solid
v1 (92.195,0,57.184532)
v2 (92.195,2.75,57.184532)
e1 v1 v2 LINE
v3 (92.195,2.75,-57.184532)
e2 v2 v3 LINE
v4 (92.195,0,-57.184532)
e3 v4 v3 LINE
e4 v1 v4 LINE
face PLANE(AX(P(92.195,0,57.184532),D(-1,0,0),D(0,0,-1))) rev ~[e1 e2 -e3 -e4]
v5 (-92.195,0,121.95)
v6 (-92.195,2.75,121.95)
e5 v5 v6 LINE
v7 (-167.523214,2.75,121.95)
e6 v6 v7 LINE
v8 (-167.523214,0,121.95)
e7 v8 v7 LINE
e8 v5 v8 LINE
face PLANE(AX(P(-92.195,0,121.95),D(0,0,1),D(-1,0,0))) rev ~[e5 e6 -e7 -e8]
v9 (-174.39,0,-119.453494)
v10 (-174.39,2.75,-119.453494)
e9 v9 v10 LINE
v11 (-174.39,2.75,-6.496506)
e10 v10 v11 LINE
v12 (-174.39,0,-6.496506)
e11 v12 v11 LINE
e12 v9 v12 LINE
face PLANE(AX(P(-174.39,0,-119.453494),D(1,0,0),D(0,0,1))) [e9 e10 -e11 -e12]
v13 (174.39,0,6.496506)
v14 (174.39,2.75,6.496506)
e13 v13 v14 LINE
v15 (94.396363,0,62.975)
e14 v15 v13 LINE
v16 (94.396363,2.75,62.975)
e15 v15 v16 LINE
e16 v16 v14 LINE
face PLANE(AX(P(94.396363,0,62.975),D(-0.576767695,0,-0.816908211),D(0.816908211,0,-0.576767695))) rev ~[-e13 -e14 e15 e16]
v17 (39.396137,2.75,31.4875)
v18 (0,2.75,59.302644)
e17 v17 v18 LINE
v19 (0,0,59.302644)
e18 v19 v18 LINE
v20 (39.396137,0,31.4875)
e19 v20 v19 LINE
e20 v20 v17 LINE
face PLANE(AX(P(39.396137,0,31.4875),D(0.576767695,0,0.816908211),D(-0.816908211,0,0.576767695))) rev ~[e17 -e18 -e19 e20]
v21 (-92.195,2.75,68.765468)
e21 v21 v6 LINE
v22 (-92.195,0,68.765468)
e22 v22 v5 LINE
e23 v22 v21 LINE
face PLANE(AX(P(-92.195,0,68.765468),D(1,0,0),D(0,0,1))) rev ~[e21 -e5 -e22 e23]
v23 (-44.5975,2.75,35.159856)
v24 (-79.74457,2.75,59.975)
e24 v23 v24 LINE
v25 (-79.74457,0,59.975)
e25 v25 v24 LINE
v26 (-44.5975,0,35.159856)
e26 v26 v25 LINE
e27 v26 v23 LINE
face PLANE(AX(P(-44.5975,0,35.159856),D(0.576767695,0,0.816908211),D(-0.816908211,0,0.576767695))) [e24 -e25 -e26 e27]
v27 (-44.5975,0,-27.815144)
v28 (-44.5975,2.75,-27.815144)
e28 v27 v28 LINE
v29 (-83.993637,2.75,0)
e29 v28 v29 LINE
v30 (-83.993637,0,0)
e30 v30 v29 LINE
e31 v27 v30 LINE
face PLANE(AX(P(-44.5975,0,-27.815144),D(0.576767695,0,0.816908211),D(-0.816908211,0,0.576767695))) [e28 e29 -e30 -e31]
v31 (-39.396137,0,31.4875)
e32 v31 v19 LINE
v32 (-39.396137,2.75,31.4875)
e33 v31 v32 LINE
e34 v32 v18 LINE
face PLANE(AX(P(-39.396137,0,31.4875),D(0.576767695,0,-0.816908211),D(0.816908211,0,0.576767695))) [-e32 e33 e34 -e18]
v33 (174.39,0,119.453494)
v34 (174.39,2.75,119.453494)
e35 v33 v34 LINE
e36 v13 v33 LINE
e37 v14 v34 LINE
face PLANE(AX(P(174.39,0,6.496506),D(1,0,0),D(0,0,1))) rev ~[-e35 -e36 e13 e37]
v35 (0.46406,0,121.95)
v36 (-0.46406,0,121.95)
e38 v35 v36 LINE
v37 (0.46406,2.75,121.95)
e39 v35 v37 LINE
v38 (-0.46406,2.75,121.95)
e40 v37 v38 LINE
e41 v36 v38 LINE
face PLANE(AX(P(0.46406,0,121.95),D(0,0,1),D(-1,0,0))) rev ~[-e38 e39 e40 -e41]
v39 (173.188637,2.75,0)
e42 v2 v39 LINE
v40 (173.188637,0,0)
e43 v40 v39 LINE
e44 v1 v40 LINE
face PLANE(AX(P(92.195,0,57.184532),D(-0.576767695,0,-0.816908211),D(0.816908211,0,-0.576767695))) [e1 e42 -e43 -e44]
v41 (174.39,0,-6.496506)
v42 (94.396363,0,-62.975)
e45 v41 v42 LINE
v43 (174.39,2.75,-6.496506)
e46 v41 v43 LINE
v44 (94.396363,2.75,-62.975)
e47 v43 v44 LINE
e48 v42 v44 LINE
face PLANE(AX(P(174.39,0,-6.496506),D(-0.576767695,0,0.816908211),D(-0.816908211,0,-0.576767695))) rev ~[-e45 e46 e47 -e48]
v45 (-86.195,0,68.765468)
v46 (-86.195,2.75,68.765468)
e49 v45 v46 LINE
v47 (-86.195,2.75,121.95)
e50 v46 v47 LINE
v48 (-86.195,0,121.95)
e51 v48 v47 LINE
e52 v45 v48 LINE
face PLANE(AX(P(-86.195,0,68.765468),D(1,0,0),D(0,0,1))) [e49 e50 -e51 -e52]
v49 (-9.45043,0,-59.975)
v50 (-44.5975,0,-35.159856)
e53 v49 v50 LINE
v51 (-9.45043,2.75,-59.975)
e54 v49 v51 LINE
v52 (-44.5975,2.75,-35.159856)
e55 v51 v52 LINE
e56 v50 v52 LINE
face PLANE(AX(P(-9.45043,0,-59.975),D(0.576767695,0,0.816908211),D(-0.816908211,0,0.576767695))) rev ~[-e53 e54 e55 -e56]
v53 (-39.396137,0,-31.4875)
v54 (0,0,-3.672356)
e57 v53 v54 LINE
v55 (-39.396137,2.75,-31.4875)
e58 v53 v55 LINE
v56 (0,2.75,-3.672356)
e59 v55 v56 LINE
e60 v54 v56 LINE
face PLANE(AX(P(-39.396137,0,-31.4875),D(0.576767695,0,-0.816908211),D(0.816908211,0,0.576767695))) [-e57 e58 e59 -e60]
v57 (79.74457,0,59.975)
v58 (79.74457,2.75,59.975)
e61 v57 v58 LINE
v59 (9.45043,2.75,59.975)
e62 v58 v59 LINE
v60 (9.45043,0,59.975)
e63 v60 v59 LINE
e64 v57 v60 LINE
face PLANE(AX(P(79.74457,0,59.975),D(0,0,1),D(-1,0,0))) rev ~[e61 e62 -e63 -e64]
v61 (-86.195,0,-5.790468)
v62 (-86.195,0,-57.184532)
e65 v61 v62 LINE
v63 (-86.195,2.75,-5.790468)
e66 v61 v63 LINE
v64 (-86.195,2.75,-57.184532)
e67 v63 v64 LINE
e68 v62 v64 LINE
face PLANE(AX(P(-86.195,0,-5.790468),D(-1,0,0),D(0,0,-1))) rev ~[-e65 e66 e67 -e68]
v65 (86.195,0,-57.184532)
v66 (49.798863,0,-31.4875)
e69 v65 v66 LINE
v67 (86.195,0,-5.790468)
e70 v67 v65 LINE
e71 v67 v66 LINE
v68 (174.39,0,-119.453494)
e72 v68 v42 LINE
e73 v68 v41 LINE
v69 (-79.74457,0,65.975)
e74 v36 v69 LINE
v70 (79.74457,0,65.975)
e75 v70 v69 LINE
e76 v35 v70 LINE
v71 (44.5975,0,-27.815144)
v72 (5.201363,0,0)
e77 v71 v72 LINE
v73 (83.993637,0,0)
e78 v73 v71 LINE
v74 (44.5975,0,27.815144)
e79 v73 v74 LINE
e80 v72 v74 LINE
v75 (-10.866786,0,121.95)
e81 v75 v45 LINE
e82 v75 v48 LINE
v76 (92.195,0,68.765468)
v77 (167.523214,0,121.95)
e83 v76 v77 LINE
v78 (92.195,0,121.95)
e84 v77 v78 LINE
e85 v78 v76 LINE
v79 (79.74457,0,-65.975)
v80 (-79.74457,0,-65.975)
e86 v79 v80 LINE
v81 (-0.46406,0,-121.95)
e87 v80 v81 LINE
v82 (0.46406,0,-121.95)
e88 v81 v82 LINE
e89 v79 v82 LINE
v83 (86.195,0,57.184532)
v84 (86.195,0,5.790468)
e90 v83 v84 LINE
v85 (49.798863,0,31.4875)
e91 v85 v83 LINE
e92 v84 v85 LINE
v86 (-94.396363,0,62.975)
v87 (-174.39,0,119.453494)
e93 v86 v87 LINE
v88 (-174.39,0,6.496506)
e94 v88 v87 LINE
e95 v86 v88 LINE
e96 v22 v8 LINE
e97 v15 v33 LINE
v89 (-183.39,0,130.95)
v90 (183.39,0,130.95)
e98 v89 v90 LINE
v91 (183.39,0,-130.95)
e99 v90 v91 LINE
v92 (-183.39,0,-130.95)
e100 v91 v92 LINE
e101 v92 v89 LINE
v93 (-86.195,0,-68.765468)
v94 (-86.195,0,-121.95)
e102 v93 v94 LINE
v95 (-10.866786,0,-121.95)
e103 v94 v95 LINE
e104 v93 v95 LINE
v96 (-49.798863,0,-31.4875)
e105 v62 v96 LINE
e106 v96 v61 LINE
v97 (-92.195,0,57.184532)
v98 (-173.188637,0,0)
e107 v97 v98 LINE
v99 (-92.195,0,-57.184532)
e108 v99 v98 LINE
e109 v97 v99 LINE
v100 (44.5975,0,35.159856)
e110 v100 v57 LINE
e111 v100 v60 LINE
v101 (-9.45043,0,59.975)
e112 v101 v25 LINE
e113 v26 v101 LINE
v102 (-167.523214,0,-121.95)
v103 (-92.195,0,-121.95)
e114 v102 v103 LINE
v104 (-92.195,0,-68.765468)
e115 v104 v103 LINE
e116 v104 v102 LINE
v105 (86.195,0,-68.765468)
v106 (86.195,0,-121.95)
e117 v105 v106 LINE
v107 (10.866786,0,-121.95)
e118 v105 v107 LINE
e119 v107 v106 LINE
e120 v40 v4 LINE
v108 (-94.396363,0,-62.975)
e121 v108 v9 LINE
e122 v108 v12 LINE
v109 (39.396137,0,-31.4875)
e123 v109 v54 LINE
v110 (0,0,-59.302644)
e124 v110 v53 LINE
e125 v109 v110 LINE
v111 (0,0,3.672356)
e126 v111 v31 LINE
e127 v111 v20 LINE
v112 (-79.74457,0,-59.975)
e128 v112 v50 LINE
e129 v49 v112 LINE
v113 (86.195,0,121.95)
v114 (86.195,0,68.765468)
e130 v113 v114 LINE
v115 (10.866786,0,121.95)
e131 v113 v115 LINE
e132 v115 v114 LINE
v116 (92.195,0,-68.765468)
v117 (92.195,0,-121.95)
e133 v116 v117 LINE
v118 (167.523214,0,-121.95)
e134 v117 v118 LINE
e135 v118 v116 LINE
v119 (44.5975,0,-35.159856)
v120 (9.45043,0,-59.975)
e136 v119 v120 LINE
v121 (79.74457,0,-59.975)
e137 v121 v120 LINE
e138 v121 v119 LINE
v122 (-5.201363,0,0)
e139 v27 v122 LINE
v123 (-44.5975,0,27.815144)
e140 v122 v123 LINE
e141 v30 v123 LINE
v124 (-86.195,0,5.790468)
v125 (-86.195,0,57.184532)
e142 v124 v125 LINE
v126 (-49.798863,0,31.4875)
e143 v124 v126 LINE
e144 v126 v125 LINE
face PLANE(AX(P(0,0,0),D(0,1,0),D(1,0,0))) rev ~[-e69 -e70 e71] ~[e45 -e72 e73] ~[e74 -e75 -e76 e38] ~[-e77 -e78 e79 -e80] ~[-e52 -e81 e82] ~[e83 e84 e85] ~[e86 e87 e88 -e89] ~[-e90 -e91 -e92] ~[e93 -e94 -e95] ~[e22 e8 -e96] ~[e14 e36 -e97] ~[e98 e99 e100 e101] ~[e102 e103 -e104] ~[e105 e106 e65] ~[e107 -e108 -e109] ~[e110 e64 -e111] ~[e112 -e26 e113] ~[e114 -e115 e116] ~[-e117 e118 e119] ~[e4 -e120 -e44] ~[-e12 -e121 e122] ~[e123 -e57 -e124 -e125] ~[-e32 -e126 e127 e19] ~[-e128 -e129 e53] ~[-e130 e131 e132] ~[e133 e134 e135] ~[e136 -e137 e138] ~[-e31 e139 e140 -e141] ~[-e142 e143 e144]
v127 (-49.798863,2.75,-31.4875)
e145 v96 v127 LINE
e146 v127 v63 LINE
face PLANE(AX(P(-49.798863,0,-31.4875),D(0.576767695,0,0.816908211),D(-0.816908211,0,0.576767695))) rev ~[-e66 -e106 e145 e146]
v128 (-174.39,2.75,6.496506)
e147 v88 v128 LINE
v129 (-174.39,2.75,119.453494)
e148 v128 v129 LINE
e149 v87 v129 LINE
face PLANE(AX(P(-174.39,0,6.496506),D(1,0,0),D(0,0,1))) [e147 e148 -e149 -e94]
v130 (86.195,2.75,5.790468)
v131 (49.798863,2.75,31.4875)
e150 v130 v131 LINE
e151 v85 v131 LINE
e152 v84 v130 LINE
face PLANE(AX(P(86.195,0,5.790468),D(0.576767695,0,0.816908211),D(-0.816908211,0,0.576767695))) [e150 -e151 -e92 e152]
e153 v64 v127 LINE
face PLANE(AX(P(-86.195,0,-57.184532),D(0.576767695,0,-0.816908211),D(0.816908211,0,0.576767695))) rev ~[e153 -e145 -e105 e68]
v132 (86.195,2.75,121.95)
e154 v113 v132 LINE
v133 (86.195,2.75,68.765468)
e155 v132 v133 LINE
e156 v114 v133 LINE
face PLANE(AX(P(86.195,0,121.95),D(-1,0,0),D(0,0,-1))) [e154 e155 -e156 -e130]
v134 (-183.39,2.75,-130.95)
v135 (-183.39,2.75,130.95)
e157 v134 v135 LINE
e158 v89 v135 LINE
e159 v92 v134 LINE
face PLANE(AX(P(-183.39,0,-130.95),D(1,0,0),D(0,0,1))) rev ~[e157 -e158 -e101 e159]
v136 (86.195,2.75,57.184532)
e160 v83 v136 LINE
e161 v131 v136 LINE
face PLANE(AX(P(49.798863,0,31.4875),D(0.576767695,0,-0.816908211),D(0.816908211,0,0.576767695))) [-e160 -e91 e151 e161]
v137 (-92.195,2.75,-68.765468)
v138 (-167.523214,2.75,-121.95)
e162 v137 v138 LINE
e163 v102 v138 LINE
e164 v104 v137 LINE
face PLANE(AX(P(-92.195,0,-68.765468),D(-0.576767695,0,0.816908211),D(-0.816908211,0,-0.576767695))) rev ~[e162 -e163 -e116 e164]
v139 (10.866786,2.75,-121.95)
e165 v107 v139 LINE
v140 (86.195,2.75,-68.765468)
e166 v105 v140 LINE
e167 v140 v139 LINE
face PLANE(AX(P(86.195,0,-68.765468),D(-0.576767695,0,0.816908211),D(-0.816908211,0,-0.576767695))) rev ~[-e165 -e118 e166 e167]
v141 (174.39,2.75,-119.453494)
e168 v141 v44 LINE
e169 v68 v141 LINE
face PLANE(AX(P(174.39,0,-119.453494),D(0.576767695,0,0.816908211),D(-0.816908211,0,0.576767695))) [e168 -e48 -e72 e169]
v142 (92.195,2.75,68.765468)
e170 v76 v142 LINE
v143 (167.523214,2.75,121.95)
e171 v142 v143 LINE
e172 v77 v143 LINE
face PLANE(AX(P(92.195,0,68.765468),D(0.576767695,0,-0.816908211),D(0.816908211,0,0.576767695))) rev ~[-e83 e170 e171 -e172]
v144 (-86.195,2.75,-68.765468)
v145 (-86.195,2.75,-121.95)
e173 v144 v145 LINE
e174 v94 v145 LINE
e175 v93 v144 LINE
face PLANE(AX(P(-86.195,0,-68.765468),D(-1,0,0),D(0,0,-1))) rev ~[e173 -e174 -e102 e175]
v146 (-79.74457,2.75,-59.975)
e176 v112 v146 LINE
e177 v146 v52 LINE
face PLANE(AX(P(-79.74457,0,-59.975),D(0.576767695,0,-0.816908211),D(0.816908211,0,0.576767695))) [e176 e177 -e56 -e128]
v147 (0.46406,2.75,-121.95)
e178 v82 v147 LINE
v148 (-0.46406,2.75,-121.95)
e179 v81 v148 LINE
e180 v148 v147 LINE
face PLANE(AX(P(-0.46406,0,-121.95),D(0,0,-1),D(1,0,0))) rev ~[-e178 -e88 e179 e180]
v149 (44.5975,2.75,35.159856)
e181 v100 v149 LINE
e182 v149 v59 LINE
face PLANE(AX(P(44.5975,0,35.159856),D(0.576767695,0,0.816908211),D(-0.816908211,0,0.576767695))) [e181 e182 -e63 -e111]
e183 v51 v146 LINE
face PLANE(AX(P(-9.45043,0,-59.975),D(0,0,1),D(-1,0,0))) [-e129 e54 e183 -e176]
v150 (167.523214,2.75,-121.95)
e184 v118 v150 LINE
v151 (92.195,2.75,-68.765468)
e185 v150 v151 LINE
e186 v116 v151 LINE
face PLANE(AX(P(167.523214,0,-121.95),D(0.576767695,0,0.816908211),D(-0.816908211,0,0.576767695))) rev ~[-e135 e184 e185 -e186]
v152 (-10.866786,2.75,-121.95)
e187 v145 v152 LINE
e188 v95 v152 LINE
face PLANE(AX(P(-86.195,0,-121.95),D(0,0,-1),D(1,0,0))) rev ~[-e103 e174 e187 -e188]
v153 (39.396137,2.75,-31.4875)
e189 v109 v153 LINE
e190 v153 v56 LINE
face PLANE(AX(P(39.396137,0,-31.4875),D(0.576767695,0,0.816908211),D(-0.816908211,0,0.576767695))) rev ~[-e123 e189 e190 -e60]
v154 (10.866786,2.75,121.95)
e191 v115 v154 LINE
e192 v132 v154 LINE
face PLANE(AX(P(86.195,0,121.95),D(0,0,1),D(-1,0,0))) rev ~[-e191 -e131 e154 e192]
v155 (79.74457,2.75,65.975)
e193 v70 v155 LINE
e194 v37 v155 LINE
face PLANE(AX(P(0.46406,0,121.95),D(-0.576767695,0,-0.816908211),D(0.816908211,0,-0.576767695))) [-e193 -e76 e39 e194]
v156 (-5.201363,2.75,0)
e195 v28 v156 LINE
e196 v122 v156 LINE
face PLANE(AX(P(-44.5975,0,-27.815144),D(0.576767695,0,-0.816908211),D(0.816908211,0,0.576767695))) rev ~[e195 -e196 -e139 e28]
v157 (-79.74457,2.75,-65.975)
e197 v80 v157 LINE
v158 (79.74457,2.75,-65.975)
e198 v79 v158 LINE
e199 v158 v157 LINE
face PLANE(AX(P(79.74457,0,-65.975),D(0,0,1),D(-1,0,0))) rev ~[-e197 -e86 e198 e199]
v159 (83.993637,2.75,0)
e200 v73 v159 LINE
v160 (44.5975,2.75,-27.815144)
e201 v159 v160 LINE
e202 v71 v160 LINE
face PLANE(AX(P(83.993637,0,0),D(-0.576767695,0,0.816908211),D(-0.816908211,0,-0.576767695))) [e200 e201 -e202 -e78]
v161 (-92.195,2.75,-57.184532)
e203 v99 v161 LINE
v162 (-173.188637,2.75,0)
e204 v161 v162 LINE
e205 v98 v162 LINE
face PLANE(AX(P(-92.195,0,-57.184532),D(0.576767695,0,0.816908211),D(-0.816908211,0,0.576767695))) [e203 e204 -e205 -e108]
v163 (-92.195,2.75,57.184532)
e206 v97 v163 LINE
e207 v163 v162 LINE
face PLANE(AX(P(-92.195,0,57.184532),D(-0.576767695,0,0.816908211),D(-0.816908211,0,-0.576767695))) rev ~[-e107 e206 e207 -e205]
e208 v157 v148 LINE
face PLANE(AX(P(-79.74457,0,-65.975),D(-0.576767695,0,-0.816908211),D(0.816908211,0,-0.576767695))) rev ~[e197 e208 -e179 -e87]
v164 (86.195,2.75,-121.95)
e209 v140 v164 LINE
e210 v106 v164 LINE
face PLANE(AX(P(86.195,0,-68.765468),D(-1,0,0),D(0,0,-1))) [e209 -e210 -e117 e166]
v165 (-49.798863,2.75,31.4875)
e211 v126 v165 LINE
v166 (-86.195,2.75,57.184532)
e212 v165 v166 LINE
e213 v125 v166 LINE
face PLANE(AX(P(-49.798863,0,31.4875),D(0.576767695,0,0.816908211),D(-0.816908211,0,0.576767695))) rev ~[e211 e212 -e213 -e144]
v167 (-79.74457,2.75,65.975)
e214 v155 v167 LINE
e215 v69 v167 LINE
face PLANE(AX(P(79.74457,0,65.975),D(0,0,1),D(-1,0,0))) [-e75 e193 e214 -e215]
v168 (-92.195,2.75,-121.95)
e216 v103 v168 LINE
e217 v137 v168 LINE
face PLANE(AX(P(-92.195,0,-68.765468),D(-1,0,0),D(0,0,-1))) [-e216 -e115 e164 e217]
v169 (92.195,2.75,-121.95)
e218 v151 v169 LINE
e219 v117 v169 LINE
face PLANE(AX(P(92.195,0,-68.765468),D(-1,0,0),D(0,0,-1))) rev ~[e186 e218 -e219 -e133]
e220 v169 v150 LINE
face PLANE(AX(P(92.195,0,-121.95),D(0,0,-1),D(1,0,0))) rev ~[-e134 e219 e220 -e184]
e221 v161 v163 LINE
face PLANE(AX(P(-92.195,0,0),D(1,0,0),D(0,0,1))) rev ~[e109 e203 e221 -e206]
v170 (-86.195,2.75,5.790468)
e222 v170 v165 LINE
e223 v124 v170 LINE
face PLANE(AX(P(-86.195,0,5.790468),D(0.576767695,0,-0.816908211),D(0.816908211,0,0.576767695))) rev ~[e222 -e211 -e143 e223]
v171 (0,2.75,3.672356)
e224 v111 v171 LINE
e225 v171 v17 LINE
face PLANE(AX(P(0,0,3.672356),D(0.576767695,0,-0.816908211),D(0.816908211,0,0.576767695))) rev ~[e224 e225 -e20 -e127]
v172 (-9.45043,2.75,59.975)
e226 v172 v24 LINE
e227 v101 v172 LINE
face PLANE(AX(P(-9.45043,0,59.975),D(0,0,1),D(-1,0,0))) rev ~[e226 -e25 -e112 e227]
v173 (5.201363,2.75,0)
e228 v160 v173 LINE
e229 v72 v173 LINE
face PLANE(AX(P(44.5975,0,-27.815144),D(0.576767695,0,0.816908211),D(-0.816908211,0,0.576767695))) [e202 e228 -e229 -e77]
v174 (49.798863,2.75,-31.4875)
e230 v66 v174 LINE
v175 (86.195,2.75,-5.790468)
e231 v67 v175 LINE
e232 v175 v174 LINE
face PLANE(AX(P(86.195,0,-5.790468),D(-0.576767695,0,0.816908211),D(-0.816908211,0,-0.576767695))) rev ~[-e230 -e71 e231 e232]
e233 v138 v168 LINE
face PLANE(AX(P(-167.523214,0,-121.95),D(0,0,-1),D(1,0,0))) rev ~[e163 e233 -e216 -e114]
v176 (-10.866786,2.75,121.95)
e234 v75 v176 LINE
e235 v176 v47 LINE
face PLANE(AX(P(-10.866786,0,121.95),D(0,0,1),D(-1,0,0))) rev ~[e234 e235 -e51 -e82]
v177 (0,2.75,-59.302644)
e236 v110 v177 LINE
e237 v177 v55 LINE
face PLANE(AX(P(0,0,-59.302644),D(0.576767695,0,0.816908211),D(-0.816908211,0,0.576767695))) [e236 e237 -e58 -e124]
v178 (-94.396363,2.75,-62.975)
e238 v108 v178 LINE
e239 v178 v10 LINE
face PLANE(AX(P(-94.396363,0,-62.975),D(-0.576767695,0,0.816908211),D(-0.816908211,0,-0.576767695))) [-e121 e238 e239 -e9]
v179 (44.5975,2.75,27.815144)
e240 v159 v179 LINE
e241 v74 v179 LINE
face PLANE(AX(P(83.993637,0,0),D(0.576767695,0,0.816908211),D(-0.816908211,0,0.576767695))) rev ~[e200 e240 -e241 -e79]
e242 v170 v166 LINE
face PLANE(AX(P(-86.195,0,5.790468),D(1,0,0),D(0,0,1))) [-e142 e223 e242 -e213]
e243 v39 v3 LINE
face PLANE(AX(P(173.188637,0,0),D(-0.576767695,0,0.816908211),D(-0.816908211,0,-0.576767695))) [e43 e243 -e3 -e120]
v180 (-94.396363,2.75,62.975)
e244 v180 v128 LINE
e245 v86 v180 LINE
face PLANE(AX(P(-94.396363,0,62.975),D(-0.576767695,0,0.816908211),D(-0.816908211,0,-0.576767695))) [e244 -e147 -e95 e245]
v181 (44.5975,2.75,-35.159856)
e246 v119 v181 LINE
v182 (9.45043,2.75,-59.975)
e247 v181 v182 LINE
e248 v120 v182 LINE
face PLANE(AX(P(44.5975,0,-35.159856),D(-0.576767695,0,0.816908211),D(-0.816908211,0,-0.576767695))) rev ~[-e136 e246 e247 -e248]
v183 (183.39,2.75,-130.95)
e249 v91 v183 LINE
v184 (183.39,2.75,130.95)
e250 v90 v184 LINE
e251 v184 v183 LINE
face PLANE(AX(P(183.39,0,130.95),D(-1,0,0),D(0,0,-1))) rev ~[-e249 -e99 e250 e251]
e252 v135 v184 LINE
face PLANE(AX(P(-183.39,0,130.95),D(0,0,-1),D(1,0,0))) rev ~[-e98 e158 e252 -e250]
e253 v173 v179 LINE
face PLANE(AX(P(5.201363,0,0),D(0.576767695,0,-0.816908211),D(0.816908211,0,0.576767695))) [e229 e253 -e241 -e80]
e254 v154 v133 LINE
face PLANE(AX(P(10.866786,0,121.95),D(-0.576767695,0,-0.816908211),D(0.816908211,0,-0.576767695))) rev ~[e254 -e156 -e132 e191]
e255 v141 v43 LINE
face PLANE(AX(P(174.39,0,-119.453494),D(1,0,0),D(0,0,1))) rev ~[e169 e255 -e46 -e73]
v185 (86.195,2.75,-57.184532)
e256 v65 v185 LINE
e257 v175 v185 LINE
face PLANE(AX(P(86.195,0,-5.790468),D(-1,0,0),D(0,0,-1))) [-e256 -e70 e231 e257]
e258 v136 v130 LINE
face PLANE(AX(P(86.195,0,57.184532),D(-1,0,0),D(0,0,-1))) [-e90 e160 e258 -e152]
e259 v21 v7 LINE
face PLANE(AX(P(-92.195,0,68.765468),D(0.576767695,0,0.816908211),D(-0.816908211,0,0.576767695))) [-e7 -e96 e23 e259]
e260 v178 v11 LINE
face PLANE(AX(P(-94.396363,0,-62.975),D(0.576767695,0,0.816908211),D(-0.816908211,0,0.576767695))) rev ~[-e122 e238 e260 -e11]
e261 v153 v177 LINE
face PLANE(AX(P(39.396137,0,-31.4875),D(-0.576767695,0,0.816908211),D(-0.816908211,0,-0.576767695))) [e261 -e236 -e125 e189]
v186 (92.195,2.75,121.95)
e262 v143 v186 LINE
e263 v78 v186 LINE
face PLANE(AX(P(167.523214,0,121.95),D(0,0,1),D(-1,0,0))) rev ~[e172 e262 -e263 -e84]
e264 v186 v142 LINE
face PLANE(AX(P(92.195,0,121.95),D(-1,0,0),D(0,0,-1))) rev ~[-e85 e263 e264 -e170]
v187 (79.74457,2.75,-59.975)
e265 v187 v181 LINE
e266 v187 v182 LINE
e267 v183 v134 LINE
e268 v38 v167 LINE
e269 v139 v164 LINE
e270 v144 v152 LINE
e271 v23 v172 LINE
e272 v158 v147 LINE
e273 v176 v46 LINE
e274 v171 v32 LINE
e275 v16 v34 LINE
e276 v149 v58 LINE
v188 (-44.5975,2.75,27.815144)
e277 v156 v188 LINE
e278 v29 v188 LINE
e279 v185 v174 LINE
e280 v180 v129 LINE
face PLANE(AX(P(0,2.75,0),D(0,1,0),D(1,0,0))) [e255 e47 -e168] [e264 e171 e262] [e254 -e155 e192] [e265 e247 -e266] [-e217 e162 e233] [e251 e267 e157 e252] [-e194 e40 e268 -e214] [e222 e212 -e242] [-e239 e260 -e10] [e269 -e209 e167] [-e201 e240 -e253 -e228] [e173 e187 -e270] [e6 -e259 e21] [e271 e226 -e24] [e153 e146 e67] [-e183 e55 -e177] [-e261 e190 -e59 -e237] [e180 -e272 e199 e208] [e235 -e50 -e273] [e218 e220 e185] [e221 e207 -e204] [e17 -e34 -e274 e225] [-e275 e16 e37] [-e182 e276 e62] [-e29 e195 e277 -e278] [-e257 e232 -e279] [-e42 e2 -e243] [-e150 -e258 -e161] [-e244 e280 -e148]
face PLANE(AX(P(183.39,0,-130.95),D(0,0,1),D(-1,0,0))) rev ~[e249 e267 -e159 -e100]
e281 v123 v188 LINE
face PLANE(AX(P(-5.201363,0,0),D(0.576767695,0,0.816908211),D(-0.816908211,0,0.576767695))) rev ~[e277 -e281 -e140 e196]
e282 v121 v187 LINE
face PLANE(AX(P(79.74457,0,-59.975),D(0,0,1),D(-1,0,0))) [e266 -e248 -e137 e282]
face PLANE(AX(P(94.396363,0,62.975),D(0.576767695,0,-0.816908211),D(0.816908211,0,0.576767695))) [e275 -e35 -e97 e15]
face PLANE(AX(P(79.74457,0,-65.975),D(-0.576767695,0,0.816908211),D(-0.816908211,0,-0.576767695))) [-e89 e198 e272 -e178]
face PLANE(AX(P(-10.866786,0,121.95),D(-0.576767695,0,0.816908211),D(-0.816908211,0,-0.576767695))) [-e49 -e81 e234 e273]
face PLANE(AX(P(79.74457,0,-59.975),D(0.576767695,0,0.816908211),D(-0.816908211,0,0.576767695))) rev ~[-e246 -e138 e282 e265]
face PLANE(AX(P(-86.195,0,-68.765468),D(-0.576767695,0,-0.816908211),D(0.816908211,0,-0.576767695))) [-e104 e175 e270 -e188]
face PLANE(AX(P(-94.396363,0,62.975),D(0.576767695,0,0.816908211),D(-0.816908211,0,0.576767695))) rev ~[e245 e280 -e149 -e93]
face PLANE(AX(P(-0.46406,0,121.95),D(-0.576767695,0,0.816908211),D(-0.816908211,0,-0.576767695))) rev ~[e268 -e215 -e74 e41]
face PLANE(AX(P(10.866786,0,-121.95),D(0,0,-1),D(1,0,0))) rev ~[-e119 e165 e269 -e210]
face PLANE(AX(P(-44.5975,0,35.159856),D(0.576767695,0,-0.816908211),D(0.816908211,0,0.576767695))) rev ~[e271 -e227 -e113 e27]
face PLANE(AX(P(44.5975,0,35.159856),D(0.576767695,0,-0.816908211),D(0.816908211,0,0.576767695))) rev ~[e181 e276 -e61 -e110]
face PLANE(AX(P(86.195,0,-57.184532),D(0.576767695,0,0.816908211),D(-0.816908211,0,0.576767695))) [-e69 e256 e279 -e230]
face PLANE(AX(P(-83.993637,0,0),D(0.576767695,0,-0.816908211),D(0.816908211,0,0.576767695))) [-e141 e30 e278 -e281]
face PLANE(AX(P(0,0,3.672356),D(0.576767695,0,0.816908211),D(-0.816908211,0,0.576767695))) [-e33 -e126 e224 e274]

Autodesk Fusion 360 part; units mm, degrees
sketch "Sketch1" plane through (0, 0, 0) normal (0, 1, 0) x (1, 0, 0)
  line L0 (178.39, 125.95) -> (-178.39, 125.95)
  line L1 (-178.39, 125.95) -> (-178.39, -125.95)
  line L2 (-178.39, -125.95) -> (178.39, -125.95)
  line L3 (178.39, -125.95) -> (178.39, 125.95)
  line L4 (178.39, 125.95) -> (-178.39, -125.95) construction
  line L5 (-178.39, 125.95) -> (178.39, -125.95) construction
  line L6 (-178.39, 0) -> (0, 125.95) construction
  line L7 (0, 125.95) -> (178.39, 0) construction
  line L8 (178.39, 0) -> (0, -125.95) construction
  line L9 (-178.39, 0) -> (0, -125.95) construction
  line L10 (-89.195, -62.975) -> (89.195, -62.975) construction
  line L11 (-89.195, 62.975) -> (89.195, 62.975) construction
  line L12 (89.195, 62.975) -> (89.195, -62.975) construction
  line L13 (-89.195, -62.975) -> (-89.195, 62.975) construction
  line L14 (-89.195, 0) -> (0, 62.975) construction
  line L15 (0, 62.975) -> (89.195, 0) construction
  line L16 (89.195, 0) -> (0, -62.975) construction
  line L17 (-89.195, 0) -> (0, -62.975) construction
  line L18 (-89.195, -62.975) -> (-89.195, -125.95) construction
  line L19 (89.195, -62.975) -> (89.195, -125.95) construction
  line L20 (89.195, 62.975) -> (89.195, 125.95) construction
  line L21 (-89.195, 62.975) -> (-89.195, 125.95) construction
  line L22 (-178.39, 125.95) -> (-89.195, 62.975)
  line L23 (-89.195, 62.975) -> (-90.9253, 60.5243)
  line L24 (-90.9253, 60.5243) -> (-180.1203, 123.4993)
  line L25 (-180.1203, 123.4993) -> (-178.39, 125.95)
  line L26 (-87.4647, 65.4257) -> (-176.6597, 128.4007)
  line L27 (-89.195, 62.975) -> (-87.4647, 65.4257)
  line L28 (-176.6597, 128.4007) -> (-178.39, 125.95)
  line L29 (-89.195, 125.95) -> (-89.195, 62.975)
  line L30 (-89.195, 62.975) -> (-92.195, 62.975)
  line L31 (-92.195, 62.975) -> (-92.195, 125.95)
  line L32 (-92.195, 125.95) -> (-89.195, 125.95)
  line L33 (-86.195, 62.975) -> (-86.195, 125.95)
  line L34 (-89.195, 62.975) -> (-86.195, 62.975)
  line L35 (-178.39, 0) -> (-89.195, 62.975)
  line L36 (-89.195, 62.975) -> (-90.9253, 65.4257)
  line L37 (-90.9253, 65.4257) -> (-180.1203, 2.4507)
  line L38 (-180.1203, 2.4507) -> (-178.39, 0)
  line L39 (-87.4647, 60.5243) -> (-176.6597, -2.4507)
  line L40 (-89.195, 62.975) -> (-87.4647, 60.5243)
  line L41 (-89.195, 62.975) -> (-89.195, 0)
  line L42 (-89.195, 0) -> (-92.195, 0)
  line L43 (-92.195, 0) -> (-92.195, 62.975)
  line L44 (-92.195, 62.975) -> (-89.195, 62.975)
  line L45 (-86.195, 0) -> (-86.195, 62.975)
  line L46 (-89.195, 0) -> (-86.195, 0)
  line L47 (-89.195, 0) -> (0, 62.975)
  line L48 (0, 62.975) -> (1.7303, 60.5243)
  line L49 (1.7303, 60.5243) -> (-87.4647, -2.4507)
  line L50 (-87.4647, -2.4507) -> (-89.195, 0)
  line L51 (0, 62.975) -> (-1.7303, 65.4257)
  line L52 (-1.7303, 65.4257) -> (-90.9253, 2.4507)
  line L53 (178.39, -125.95) -> (-89.195, 62.975)
  line L54 (-89.195, 62.975) -> (-87.4647, 65.4257)
  line L55 (-87.4647, 65.4257) -> (180.1203, -123.4993)
  line L56 (180.1203, -123.4993) -> (178.39, -125.95)
  line L57 (-90.9253, 60.5243) -> (176.6597, -128.4007)
  line L58 (0, 125.95) -> (-89.195, 62.975)
  line L59 (-89.195, 62.975) -> (-87.4647, 60.5243)
  line L60 (-87.4647, 60.5243) -> (1.7303, 123.4993)
  line L61 (1.7303, 123.4993) -> (0, 125.95)
  line L62 (-90.9253, 65.4257) -> (-1.7303, 128.4007)
  line L63 (-89.195, 62.975) -> (89.195, 62.975)
  line L64 (89.195, 62.975) -> (89.195, 65.975)
  line L65 (89.195, 65.975) -> (-89.195, 65.975)
  line L66 (-89.195, 65.975) -> (-89.195, 62.975)
  line L67 (89.195, 59.975) -> (-89.195, 59.975)
  line L68 (0, 62.975) -> (89.195, 0)
  line L69 (89.195, 0) -> (90.9253, 2.4507)
  line L70 (90.9253, 2.4507) -> (1.7303, 65.4257)
  line L71 (1.7303, 65.4257) -> (0, 62.975)
  line L72 (87.4647, -2.4507) -> (-1.7303, 60.5243)
  line L73 (-178.39, -125.95) -> (178.39, 125.95)
  line L74 (178.39, 125.95) -> (176.6597, 128.4007)
  line L75 (176.6597, 128.4007) -> (-180.1203, -123.4993)
  line L76 (-180.1203, -123.4993) -> (-178.39, -125.95)
  line L77 (180.1203, 123.4993) -> (-176.6597, -128.4007)
  line L78 (-89.195, -125.95) -> (-89.195, 0)
  line L79 (-89.195, 0) -> (-92.195, 0)
  line L80 (-92.195, 0) -> (-92.195, -125.95)
  line L81 (-92.195, -125.95) -> (-89.195, -125.95)
  line L82 (-86.195, 0) -> (-86.195, -125.95)
  line L83 (-178.39, 0) -> (0, -125.95)
  line L84 (0, -125.95) -> (1.7303, -123.4993)
  line L85 (1.7303, -123.4993) -> (-176.6597, 2.4507)
  line L86 (-176.6597, 2.4507) -> (-178.39, 0)
  line L87 (-1.7303, -128.4007) -> (-180.1203, -2.4507)
  line L88 (0, -62.975) -> (-89.195, 0)
  line L89 (-89.195, 0) -> (-87.4647, 2.4507)
  line L90 (-87.4647, 2.4507) -> (1.7303, -60.5243)
  line L91 (1.7303, -60.5243) -> (0, -62.975)
  line L92 (-90.9253, -2.4507) -> (-1.7303, -65.4257)
  line L93 (178.39, 0) -> (0, -125.95)
  line L94 (0, -125.95) -> (-1.7303, -123.4993)
  line L95 (-1.7303, -123.4993) -> (176.6597, 2.4507)
  line L96 (176.6597, 2.4507) -> (178.39, 0)
  line L97 (1.7303, -128.4007) -> (180.1203, -2.4507)
  line L98 (0, 125.95) -> (178.39, 0)
  line L99 (178.39, 0) -> (180.1203, 2.4507)
  line L100 (180.1203, 2.4507) -> (1.7303, 128.4007)
  line L101 (1.7303, 128.4007) -> (0, 125.95)
  line L102 (176.6597, -2.4507) -> (-1.7303, 123.4993)
  line L103 (89.195, 125.95) -> (89.195, -125.95)
  line L104 (89.195, -125.95) -> (92.195, -125.95)
  line L105 (92.195, -125.95) -> (92.195, 125.95)
  line L106 (92.195, 125.95) -> (89.195, 125.95)
  line L107 (86.195, -125.95) -> (86.195, 125.95)
  line L108 (0, -62.975) -> (89.195, 0)
  line L109 (89.195, 0) -> (87.4647, 2.4507)
  line L110 (87.4647, 2.4507) -> (-1.7303, -60.5243)
  line L111 (-1.7303, -60.5243) -> (0, -62.975)
  line L112 (90.9253, -2.4507) -> (1.7303, -65.4257)
  line L113 (-89.195, -62.975) -> (89.195, -62.975)
  line L114 (89.195, -62.975) -> (89.195, -59.975)
  line L115 (89.195, -59.975) -> (-89.195, -59.975)
  line L116 (-89.195, -59.975) -> (-89.195, -62.975)
  line L117 (89.195, -65.975) -> (-89.195, -65.975)
  line L118 (-178.39, 125.95) -> (-174.39, 125.95)
  line L119 (-174.39, 125.95) -> (-174.39, -126.4932)
  line L120 (-174.39, -126.4932) -> (-178.39, -126.4932)
  line L121 (-178.39, -126.4932) -> (-178.39, 125.95)
  line L122 (-178.39, -125.95) -> (178.39, -125.95)
  line L123 (178.39, -125.95) -> (178.39, -121.95)
  line L124 (178.39, -121.95) -> (-178.39, -121.95)
  line L125 (-178.39, -121.95) -> (-178.39, -125.95)
  line L126 (178.39, 125.95) -> (174.39, 125.95)
  line L127 (174.39, 125.95) -> (174.39, -125.95)
  line L128 (174.39, -125.95) -> (178.39, -125.95)
  line L129 (178.39, -125.95) -> (178.39, 125.95)
  line L130 (178.39, 125.95) -> (-178.39, 125.95)
  line L131 (-178.39, 125.95) -> (-178.39, 121.95)
  line L132 (-178.39, 121.95) -> (178.39, 121.95)
  line L133 (178.39, 121.95) -> (178.39, 125.95)
  line L134 (183.39, 130.95) -> (-183.39, 130.95)
  line L135 (-183.39, 130.95) -> (-183.39, -130.95)
  line L136 (-183.39, -130.95) -> (183.39, -130.95)
  line L137 (183.39, -130.95) -> (183.39, 130.95)
  line L138 (183.39, 130.95) -> (-183.39, -130.95) construction
  line L139 (-183.39, 130.95) -> (183.39, -130.95) construction
  line L140 (0, 130.95) -> (0, 125.95) construction
  line L141 (-183.39, 66.313) -> (-178.39, 66.313) construction
  dimension "d1" = 356.78
  dimension "d2" = 251.9
  dimension "d3" = 3
  dimension "d4" = 3
  dimension "d5" = 3
  dimension "d6" = 3
  dimension "d7" = 3
  dimension "d8" = 3
  dimension "d9" = 3
  dimension "d10" = 3
  dimension "d11" = 3
  dimension "d12" = 3
  dimension "d13" = 3
  dimension "d14" = 3
  dimension "d15" = 3
  dimension "d16" = 3
  dimension "d17" = 3
  dimension "d18" = 3
  dimension "d19" = 3
  dimension "d20" = 3
  dimension "d21" = 4
  dimension "d22" = 4
  dimension "d23" = 4
  dimension "d24" = 4
  dimension "d27" = 5
extrude "Extrude1" add sketch "Sketch1" along normal blind 2.75 contours L0 L73 L126 L127 L130 | L3 L73 L77 L127 L129 L132 L133 | L0 L74 L75 L126 L130 | L0 L73 L75 L127 L130 L132 | L3 L77 L129 L132 L133 | L73 L127 L132 | L0 L75 L105 L130 L132 | L3 L77 L100 L127 L129 L132 | L77 L127 L132 | L73 L77 L100 L105 L127 L132 | L73 L75 L105 L132 | L0 L103 L105 L106 L130 L132 | L3 L99 L100 L129 | L3 L95 L96 L98 L100 L127 L129 | L73 L100 L105 | L73 L75 L100 L105 | L0 L103 L107 L130 L132 | L75 L103 L105 L132 | L3 L93 L97 L127 L129 | L95 L96 L98 | L93 L95 L98 L102 L127 | L77 L98 L100 L105 L127 | L77 L100 L105 | L73 L77 L98 L100 L105 | L64 L73 L100 L103 | L0 L100 L107 L130 L132 | L100 L103 L107 L132 | L65 L75 L103 | L65 L75 L100 L107 | L3 L55 L97 L124 L127 L129 | L93 L102 L127 | L95 L98 L127 | L95 L98 L102 L105 L127 | L77 L98 L105 | L63 L73 L102 L107 | L64 L65 L75 L98 L103 | L67 L73 L102 L103 | L63 L75 L98 L107 | L77 L98 L103 | L0 L98 L100 L130 L132 | L0 L100 L101 L130 | L65 L75 L98 L107 | L65 L98 L100 L107 L132 | L3 L55 L123 L124 L129 | L55 L93 L97 L105 L127 | L93 L95 L102 L105 L127 | L95 L102 L127 | L77 L98 L102 L105 | L63 L102 L107 | L63 L75 L107 | L67 L73 L102 L107 | L73 L102 L107 | L75 L98 L107 | L67 L102 L103 | L0 L58 L62 L130 L132 | L58 L60 L61 L132 | L60 L61 L98 L102 L132 | L65 L98 L107 | L3 L55 L56 L123 L129 | L3 L53 L55 L123 L124 L127 L129 | L55 L124 L127 | L55 L97 L105 | L53 L55 L97 L105 L124 L127 | L55 L93 L105 | L55 L93 L95 L105 | L69 L70 L95 L102 L103 L105 | L70 L77 L103 L107 | L67 L77 L102 L107 | L63 L67 L70 L75 | L65 L75 L98 L102 L107 | L67 L73 L75 L102 L107 | L51 L52 L60 L63 L65 L70 L71 L102 | L67 L73 L107 | L0 L33 L62 L130 L132 | L58 L60 L65 L132 | L33 L58 L62 L65 L132 | L65 L98 L102 L132 | L2 L53 L122 L127 L128 | L53 L124 L127 | L53 L55 L93 L97 L105 | L53 L97 L105 | L55 L93 L103 L114 | L67 L70 L73 L77 L107 | L68 L70 L103 L107 L109 L110 | L69 L70 L103 | L63 L67 L68 L70 | L63 L70 L71 | L67 L70 L73 L75 | L0 L29 L33 L130 L132 | L33 L55 L58 L60 L65 | L33 L58 L65 | L60 L102 L132 | L2 L53 L57 L122 L124 L127 | L53 L57 L105 L124 | L53 L97 L103 | L53 L57 L97 L105 | L55 L95 L107 L115 | L95 L103 L115 | L55 L103 L107 L112 | L53 L95 L107 L113 | L57 L93 L103 L117 | L53 L95 L103 L114 L115 | L57 L93 L107 L113 | L68 L70 L73 L77 | L68 L70 L77 L107 | L68 L72 L107 L108 L110 | L103 L107 L108 L112 | L68 L109 L110 | L47 L48 L49 L67 | L48 L49 L67 L68 | L51 L52 L63 | L47 L52 L63 L67 | L67 L68 L70 L75 | L68 L70 L73 L75 | L0 L29 L31 L32 L130 L132 | L29 L33 L62 L132 | L26 L33 L62 L65 | L26 L33 L55 L58 L65 | L33 L55 L58 | L2 L57 L105 L122 L124 | L57 L97 L107 L117 | L97 L103 L107 L124 | L57 L103 L117 | L57 L103 L105 L124 | L53 L55 L107 L112 L115 | L53 L95 L107 L115 | L53 L95 L107 | L57 L93 L107 | L57 L93 L107 L117 | L95 L107 L113 | L57 L107 L113 | L68 L72 L73 L77 | L68 L72 L77 L107 L110 | L68 L107 L110 | L72 L107 L108 | L47 L49 L55 L67 L72 | L47 L52 L55 L67 | L52 L55 L63 L67 | L49 L67 L68 L72 L75 | L68 L72 L73 L75 | L33 L55 L63 | L45 L53 L55 L60 L67 | L45 L60 L63 | L0 L26 L31 L130 L132 | L26 L29 L31 L132 | L22 L26 L31 L37 L62 | L26 L29 L65 | L29 L36 L62 L66 | L33 L34 L55 L58 L63 | L27 L54 L55 L58 | L26 L27 L29 L54 L65 L66 | L2 L103 L104 L105 L122 L124 | L93 L97 L107 L117 L124 | L2 L103 L107 L122 L124 | L53 L55 L108 L112 | L55 L107 L108 L112 | L53 L107 L115 | L53 L57 L95 L107 L115 | L57 L93 L95 L107 L117 | L93 L107 L117 | L57 L112 L113 L115 | L85 L95 L113 L117 | L55 L72 L73 L77 | L72 L107 L110 | L55 L72 L107 L108 L110 | L47 L49 L53 L55 | L47 L52 L53 L55 | L49 L67 L72 | L55 L72 L73 L75 | L52 L53 L55 L67 | L34 L45 L53 L60 L63 | L45 L53 L60 | L0 L22 L26 L119 L130 L132 | L0 L26 L28 L118 L130 | L22 L26 L31 L132 | L22 L36 L37 | L22 L30 L31 L37 L44 | L23 L41 L57 | L24 L30 L35 L43 L44 | L23 L24 L35 | L40 L53 L59 L60 | L39 L40 L41 L59 L67 | L2 L97 L107 L122 L124 | L2 L93 L97 L122 L124 | L53 L55 L108 L110 | L53 L57 L108 L112 | L53 L57 L112 L115 | L93 L95 L117 L124 | L108 L112 L113 L115 | L53 L55 L73 L77 | L53 L55 L77 L110 | L47 L49 L53 L57 | L47 L52 L53 L57 | L49 L53 L55 L75 | L53 L55 L73 L75 | L45 L53 L67 | L45 L52 L53 L57 L67 | L39 L45 L53 L60 L67 | L0 L22 L118 L119 L130 | L22 L24 L31 L37 L119 L132 | L22 L31 L37 | L24 L35 L39 L43 L57 | L24 L31 L37 L43 | L24 L35 L43 | L39 L41 L67 | L84 L85 L93 L95 L124 | L53 L57 L108 L110 | L57 L108 L112 L115 | L85 L95 L124 | L77 L82 L83 L85 L117 | L83 L85 L117 L124 | L88 L92 L113 L115 | L90 L91 L110 L111 L115 | L90 L91 L108 L115 | L88 L110 L111 L115 | L53 L57 L73 L77 | L53 L57 L77 L110 | L45 L47 L49 L57 L90 | L45 L47 L52 L57 | L49 L53 L57 L75 | L53 L57 L73 L75 | L39 L45 L57 L67 | L1 L22 L24 L119 L121 L131 L132 | L1 L24 L25 L121 L131 | L22 L119 L132 | L39 L41 L42 L43 L79 | L41 L45 L52 L57 | L24 L35 L37 L43 L119 | L35 L39 L43 L85 L119 | L2 L83 L87 L122 L124 | L84 L85 L94 L95 | L83 L85 L94 L95 L124 | L57 L90 L108 L110 L115 | L73 L77 L82 L85 L115 | L82 L85 L113 | L77 L82 L113 | L77 L92 L113 L115 | L82 L83 L117 | L82 L83 L87 L117 L124 | L77 L88 L92 L115 | L77 L88 L90 L110 L115 | L57 L73 L77 L90 | L41 L45 L47 L52 L89 L90 | L45 L47 L90 | L57 L73 L75 L90 | L1 L24 L121 L131 L132 | L24 L119 L132 | L35 L85 L119 | L1 L35 L37 L85 L86 L119 L121 | L2 L82 L87 L122 L124 | L90 L110 L115 | L73 L77 L92 L115 | L77 L82 L83 | L77 L82 L83 L113 | L73 L82 L85 | L73 L82 L85 L113 | L77 L82 L83 L117 | L77 L82 L87 L117 | L73 L77 L88 L90 | L73 L77 L88 L92 | L45 L49 L82 L90 | L45 L46 L47 L90 | L47 L89 L90 | L49 L75 L82 L88 L90 | L73 L75 L88 L90 | L1 L24 L37 L119 L121 L132 | L39 L80 L83 L85 L119 | L39 L85 L119 | L42 L78 L79 L80 L85 | L49 L50 L88 | L49 L50 L78 L82 L88 L92 | L46 L49 L82 L88 | L35 L39 L83 L85 L119 | L35 L85 L86 | L2 L78 L82 L122 L124 | L73 L75 L82 L92 L115 | L73 L82 L115 | L77 L78 L83 L117 | L73 L82 L85 L115 | L73 L78 L85 L115 L116 | L73 L78 L87 | L75 L78 L83 L116 | L73 L75 L80 L83 L87 | L78 L82 L87 L124 | L77 L78 L117 | L73 L75 L88 L92 | L49 L82 L88 | L75 L82 L88 L92 | L1 L37 L38 L121 | L39 L83 L119 | L75 L80 L83 L85 | L75 L78 L82 L92 | L1 L83 L87 L119 L121 | L2 L78 L80 L81 L122 L124 | L75 L82 L85 L115 | L78 L85 L115 | L73 L77 L80 L87 | L73 L80 L87 | L75 L80 L83 | L77 L78 L80 L124 | L75 L80 L83 L87 L119 | L1 L75 L87 L119 L121 L124 | L2 L77 L80 L122 L124 | L73 L77 L80 L124 | L73 L75 L80 L87 L119 L124 | L75 L80 L87 | L1 L75 L121 L124 L125 | L2 L73 L77 L119 L122 L124 | L73 L119 L124 | L75 L119 L124 | L1 L73 L75 L119 L121 L124 L125 | L1 L75 L76 L121 L125 | L2 L119 L120 L121 L122 | L2 L73 L119 L122 | L134 L135 L136 L137
